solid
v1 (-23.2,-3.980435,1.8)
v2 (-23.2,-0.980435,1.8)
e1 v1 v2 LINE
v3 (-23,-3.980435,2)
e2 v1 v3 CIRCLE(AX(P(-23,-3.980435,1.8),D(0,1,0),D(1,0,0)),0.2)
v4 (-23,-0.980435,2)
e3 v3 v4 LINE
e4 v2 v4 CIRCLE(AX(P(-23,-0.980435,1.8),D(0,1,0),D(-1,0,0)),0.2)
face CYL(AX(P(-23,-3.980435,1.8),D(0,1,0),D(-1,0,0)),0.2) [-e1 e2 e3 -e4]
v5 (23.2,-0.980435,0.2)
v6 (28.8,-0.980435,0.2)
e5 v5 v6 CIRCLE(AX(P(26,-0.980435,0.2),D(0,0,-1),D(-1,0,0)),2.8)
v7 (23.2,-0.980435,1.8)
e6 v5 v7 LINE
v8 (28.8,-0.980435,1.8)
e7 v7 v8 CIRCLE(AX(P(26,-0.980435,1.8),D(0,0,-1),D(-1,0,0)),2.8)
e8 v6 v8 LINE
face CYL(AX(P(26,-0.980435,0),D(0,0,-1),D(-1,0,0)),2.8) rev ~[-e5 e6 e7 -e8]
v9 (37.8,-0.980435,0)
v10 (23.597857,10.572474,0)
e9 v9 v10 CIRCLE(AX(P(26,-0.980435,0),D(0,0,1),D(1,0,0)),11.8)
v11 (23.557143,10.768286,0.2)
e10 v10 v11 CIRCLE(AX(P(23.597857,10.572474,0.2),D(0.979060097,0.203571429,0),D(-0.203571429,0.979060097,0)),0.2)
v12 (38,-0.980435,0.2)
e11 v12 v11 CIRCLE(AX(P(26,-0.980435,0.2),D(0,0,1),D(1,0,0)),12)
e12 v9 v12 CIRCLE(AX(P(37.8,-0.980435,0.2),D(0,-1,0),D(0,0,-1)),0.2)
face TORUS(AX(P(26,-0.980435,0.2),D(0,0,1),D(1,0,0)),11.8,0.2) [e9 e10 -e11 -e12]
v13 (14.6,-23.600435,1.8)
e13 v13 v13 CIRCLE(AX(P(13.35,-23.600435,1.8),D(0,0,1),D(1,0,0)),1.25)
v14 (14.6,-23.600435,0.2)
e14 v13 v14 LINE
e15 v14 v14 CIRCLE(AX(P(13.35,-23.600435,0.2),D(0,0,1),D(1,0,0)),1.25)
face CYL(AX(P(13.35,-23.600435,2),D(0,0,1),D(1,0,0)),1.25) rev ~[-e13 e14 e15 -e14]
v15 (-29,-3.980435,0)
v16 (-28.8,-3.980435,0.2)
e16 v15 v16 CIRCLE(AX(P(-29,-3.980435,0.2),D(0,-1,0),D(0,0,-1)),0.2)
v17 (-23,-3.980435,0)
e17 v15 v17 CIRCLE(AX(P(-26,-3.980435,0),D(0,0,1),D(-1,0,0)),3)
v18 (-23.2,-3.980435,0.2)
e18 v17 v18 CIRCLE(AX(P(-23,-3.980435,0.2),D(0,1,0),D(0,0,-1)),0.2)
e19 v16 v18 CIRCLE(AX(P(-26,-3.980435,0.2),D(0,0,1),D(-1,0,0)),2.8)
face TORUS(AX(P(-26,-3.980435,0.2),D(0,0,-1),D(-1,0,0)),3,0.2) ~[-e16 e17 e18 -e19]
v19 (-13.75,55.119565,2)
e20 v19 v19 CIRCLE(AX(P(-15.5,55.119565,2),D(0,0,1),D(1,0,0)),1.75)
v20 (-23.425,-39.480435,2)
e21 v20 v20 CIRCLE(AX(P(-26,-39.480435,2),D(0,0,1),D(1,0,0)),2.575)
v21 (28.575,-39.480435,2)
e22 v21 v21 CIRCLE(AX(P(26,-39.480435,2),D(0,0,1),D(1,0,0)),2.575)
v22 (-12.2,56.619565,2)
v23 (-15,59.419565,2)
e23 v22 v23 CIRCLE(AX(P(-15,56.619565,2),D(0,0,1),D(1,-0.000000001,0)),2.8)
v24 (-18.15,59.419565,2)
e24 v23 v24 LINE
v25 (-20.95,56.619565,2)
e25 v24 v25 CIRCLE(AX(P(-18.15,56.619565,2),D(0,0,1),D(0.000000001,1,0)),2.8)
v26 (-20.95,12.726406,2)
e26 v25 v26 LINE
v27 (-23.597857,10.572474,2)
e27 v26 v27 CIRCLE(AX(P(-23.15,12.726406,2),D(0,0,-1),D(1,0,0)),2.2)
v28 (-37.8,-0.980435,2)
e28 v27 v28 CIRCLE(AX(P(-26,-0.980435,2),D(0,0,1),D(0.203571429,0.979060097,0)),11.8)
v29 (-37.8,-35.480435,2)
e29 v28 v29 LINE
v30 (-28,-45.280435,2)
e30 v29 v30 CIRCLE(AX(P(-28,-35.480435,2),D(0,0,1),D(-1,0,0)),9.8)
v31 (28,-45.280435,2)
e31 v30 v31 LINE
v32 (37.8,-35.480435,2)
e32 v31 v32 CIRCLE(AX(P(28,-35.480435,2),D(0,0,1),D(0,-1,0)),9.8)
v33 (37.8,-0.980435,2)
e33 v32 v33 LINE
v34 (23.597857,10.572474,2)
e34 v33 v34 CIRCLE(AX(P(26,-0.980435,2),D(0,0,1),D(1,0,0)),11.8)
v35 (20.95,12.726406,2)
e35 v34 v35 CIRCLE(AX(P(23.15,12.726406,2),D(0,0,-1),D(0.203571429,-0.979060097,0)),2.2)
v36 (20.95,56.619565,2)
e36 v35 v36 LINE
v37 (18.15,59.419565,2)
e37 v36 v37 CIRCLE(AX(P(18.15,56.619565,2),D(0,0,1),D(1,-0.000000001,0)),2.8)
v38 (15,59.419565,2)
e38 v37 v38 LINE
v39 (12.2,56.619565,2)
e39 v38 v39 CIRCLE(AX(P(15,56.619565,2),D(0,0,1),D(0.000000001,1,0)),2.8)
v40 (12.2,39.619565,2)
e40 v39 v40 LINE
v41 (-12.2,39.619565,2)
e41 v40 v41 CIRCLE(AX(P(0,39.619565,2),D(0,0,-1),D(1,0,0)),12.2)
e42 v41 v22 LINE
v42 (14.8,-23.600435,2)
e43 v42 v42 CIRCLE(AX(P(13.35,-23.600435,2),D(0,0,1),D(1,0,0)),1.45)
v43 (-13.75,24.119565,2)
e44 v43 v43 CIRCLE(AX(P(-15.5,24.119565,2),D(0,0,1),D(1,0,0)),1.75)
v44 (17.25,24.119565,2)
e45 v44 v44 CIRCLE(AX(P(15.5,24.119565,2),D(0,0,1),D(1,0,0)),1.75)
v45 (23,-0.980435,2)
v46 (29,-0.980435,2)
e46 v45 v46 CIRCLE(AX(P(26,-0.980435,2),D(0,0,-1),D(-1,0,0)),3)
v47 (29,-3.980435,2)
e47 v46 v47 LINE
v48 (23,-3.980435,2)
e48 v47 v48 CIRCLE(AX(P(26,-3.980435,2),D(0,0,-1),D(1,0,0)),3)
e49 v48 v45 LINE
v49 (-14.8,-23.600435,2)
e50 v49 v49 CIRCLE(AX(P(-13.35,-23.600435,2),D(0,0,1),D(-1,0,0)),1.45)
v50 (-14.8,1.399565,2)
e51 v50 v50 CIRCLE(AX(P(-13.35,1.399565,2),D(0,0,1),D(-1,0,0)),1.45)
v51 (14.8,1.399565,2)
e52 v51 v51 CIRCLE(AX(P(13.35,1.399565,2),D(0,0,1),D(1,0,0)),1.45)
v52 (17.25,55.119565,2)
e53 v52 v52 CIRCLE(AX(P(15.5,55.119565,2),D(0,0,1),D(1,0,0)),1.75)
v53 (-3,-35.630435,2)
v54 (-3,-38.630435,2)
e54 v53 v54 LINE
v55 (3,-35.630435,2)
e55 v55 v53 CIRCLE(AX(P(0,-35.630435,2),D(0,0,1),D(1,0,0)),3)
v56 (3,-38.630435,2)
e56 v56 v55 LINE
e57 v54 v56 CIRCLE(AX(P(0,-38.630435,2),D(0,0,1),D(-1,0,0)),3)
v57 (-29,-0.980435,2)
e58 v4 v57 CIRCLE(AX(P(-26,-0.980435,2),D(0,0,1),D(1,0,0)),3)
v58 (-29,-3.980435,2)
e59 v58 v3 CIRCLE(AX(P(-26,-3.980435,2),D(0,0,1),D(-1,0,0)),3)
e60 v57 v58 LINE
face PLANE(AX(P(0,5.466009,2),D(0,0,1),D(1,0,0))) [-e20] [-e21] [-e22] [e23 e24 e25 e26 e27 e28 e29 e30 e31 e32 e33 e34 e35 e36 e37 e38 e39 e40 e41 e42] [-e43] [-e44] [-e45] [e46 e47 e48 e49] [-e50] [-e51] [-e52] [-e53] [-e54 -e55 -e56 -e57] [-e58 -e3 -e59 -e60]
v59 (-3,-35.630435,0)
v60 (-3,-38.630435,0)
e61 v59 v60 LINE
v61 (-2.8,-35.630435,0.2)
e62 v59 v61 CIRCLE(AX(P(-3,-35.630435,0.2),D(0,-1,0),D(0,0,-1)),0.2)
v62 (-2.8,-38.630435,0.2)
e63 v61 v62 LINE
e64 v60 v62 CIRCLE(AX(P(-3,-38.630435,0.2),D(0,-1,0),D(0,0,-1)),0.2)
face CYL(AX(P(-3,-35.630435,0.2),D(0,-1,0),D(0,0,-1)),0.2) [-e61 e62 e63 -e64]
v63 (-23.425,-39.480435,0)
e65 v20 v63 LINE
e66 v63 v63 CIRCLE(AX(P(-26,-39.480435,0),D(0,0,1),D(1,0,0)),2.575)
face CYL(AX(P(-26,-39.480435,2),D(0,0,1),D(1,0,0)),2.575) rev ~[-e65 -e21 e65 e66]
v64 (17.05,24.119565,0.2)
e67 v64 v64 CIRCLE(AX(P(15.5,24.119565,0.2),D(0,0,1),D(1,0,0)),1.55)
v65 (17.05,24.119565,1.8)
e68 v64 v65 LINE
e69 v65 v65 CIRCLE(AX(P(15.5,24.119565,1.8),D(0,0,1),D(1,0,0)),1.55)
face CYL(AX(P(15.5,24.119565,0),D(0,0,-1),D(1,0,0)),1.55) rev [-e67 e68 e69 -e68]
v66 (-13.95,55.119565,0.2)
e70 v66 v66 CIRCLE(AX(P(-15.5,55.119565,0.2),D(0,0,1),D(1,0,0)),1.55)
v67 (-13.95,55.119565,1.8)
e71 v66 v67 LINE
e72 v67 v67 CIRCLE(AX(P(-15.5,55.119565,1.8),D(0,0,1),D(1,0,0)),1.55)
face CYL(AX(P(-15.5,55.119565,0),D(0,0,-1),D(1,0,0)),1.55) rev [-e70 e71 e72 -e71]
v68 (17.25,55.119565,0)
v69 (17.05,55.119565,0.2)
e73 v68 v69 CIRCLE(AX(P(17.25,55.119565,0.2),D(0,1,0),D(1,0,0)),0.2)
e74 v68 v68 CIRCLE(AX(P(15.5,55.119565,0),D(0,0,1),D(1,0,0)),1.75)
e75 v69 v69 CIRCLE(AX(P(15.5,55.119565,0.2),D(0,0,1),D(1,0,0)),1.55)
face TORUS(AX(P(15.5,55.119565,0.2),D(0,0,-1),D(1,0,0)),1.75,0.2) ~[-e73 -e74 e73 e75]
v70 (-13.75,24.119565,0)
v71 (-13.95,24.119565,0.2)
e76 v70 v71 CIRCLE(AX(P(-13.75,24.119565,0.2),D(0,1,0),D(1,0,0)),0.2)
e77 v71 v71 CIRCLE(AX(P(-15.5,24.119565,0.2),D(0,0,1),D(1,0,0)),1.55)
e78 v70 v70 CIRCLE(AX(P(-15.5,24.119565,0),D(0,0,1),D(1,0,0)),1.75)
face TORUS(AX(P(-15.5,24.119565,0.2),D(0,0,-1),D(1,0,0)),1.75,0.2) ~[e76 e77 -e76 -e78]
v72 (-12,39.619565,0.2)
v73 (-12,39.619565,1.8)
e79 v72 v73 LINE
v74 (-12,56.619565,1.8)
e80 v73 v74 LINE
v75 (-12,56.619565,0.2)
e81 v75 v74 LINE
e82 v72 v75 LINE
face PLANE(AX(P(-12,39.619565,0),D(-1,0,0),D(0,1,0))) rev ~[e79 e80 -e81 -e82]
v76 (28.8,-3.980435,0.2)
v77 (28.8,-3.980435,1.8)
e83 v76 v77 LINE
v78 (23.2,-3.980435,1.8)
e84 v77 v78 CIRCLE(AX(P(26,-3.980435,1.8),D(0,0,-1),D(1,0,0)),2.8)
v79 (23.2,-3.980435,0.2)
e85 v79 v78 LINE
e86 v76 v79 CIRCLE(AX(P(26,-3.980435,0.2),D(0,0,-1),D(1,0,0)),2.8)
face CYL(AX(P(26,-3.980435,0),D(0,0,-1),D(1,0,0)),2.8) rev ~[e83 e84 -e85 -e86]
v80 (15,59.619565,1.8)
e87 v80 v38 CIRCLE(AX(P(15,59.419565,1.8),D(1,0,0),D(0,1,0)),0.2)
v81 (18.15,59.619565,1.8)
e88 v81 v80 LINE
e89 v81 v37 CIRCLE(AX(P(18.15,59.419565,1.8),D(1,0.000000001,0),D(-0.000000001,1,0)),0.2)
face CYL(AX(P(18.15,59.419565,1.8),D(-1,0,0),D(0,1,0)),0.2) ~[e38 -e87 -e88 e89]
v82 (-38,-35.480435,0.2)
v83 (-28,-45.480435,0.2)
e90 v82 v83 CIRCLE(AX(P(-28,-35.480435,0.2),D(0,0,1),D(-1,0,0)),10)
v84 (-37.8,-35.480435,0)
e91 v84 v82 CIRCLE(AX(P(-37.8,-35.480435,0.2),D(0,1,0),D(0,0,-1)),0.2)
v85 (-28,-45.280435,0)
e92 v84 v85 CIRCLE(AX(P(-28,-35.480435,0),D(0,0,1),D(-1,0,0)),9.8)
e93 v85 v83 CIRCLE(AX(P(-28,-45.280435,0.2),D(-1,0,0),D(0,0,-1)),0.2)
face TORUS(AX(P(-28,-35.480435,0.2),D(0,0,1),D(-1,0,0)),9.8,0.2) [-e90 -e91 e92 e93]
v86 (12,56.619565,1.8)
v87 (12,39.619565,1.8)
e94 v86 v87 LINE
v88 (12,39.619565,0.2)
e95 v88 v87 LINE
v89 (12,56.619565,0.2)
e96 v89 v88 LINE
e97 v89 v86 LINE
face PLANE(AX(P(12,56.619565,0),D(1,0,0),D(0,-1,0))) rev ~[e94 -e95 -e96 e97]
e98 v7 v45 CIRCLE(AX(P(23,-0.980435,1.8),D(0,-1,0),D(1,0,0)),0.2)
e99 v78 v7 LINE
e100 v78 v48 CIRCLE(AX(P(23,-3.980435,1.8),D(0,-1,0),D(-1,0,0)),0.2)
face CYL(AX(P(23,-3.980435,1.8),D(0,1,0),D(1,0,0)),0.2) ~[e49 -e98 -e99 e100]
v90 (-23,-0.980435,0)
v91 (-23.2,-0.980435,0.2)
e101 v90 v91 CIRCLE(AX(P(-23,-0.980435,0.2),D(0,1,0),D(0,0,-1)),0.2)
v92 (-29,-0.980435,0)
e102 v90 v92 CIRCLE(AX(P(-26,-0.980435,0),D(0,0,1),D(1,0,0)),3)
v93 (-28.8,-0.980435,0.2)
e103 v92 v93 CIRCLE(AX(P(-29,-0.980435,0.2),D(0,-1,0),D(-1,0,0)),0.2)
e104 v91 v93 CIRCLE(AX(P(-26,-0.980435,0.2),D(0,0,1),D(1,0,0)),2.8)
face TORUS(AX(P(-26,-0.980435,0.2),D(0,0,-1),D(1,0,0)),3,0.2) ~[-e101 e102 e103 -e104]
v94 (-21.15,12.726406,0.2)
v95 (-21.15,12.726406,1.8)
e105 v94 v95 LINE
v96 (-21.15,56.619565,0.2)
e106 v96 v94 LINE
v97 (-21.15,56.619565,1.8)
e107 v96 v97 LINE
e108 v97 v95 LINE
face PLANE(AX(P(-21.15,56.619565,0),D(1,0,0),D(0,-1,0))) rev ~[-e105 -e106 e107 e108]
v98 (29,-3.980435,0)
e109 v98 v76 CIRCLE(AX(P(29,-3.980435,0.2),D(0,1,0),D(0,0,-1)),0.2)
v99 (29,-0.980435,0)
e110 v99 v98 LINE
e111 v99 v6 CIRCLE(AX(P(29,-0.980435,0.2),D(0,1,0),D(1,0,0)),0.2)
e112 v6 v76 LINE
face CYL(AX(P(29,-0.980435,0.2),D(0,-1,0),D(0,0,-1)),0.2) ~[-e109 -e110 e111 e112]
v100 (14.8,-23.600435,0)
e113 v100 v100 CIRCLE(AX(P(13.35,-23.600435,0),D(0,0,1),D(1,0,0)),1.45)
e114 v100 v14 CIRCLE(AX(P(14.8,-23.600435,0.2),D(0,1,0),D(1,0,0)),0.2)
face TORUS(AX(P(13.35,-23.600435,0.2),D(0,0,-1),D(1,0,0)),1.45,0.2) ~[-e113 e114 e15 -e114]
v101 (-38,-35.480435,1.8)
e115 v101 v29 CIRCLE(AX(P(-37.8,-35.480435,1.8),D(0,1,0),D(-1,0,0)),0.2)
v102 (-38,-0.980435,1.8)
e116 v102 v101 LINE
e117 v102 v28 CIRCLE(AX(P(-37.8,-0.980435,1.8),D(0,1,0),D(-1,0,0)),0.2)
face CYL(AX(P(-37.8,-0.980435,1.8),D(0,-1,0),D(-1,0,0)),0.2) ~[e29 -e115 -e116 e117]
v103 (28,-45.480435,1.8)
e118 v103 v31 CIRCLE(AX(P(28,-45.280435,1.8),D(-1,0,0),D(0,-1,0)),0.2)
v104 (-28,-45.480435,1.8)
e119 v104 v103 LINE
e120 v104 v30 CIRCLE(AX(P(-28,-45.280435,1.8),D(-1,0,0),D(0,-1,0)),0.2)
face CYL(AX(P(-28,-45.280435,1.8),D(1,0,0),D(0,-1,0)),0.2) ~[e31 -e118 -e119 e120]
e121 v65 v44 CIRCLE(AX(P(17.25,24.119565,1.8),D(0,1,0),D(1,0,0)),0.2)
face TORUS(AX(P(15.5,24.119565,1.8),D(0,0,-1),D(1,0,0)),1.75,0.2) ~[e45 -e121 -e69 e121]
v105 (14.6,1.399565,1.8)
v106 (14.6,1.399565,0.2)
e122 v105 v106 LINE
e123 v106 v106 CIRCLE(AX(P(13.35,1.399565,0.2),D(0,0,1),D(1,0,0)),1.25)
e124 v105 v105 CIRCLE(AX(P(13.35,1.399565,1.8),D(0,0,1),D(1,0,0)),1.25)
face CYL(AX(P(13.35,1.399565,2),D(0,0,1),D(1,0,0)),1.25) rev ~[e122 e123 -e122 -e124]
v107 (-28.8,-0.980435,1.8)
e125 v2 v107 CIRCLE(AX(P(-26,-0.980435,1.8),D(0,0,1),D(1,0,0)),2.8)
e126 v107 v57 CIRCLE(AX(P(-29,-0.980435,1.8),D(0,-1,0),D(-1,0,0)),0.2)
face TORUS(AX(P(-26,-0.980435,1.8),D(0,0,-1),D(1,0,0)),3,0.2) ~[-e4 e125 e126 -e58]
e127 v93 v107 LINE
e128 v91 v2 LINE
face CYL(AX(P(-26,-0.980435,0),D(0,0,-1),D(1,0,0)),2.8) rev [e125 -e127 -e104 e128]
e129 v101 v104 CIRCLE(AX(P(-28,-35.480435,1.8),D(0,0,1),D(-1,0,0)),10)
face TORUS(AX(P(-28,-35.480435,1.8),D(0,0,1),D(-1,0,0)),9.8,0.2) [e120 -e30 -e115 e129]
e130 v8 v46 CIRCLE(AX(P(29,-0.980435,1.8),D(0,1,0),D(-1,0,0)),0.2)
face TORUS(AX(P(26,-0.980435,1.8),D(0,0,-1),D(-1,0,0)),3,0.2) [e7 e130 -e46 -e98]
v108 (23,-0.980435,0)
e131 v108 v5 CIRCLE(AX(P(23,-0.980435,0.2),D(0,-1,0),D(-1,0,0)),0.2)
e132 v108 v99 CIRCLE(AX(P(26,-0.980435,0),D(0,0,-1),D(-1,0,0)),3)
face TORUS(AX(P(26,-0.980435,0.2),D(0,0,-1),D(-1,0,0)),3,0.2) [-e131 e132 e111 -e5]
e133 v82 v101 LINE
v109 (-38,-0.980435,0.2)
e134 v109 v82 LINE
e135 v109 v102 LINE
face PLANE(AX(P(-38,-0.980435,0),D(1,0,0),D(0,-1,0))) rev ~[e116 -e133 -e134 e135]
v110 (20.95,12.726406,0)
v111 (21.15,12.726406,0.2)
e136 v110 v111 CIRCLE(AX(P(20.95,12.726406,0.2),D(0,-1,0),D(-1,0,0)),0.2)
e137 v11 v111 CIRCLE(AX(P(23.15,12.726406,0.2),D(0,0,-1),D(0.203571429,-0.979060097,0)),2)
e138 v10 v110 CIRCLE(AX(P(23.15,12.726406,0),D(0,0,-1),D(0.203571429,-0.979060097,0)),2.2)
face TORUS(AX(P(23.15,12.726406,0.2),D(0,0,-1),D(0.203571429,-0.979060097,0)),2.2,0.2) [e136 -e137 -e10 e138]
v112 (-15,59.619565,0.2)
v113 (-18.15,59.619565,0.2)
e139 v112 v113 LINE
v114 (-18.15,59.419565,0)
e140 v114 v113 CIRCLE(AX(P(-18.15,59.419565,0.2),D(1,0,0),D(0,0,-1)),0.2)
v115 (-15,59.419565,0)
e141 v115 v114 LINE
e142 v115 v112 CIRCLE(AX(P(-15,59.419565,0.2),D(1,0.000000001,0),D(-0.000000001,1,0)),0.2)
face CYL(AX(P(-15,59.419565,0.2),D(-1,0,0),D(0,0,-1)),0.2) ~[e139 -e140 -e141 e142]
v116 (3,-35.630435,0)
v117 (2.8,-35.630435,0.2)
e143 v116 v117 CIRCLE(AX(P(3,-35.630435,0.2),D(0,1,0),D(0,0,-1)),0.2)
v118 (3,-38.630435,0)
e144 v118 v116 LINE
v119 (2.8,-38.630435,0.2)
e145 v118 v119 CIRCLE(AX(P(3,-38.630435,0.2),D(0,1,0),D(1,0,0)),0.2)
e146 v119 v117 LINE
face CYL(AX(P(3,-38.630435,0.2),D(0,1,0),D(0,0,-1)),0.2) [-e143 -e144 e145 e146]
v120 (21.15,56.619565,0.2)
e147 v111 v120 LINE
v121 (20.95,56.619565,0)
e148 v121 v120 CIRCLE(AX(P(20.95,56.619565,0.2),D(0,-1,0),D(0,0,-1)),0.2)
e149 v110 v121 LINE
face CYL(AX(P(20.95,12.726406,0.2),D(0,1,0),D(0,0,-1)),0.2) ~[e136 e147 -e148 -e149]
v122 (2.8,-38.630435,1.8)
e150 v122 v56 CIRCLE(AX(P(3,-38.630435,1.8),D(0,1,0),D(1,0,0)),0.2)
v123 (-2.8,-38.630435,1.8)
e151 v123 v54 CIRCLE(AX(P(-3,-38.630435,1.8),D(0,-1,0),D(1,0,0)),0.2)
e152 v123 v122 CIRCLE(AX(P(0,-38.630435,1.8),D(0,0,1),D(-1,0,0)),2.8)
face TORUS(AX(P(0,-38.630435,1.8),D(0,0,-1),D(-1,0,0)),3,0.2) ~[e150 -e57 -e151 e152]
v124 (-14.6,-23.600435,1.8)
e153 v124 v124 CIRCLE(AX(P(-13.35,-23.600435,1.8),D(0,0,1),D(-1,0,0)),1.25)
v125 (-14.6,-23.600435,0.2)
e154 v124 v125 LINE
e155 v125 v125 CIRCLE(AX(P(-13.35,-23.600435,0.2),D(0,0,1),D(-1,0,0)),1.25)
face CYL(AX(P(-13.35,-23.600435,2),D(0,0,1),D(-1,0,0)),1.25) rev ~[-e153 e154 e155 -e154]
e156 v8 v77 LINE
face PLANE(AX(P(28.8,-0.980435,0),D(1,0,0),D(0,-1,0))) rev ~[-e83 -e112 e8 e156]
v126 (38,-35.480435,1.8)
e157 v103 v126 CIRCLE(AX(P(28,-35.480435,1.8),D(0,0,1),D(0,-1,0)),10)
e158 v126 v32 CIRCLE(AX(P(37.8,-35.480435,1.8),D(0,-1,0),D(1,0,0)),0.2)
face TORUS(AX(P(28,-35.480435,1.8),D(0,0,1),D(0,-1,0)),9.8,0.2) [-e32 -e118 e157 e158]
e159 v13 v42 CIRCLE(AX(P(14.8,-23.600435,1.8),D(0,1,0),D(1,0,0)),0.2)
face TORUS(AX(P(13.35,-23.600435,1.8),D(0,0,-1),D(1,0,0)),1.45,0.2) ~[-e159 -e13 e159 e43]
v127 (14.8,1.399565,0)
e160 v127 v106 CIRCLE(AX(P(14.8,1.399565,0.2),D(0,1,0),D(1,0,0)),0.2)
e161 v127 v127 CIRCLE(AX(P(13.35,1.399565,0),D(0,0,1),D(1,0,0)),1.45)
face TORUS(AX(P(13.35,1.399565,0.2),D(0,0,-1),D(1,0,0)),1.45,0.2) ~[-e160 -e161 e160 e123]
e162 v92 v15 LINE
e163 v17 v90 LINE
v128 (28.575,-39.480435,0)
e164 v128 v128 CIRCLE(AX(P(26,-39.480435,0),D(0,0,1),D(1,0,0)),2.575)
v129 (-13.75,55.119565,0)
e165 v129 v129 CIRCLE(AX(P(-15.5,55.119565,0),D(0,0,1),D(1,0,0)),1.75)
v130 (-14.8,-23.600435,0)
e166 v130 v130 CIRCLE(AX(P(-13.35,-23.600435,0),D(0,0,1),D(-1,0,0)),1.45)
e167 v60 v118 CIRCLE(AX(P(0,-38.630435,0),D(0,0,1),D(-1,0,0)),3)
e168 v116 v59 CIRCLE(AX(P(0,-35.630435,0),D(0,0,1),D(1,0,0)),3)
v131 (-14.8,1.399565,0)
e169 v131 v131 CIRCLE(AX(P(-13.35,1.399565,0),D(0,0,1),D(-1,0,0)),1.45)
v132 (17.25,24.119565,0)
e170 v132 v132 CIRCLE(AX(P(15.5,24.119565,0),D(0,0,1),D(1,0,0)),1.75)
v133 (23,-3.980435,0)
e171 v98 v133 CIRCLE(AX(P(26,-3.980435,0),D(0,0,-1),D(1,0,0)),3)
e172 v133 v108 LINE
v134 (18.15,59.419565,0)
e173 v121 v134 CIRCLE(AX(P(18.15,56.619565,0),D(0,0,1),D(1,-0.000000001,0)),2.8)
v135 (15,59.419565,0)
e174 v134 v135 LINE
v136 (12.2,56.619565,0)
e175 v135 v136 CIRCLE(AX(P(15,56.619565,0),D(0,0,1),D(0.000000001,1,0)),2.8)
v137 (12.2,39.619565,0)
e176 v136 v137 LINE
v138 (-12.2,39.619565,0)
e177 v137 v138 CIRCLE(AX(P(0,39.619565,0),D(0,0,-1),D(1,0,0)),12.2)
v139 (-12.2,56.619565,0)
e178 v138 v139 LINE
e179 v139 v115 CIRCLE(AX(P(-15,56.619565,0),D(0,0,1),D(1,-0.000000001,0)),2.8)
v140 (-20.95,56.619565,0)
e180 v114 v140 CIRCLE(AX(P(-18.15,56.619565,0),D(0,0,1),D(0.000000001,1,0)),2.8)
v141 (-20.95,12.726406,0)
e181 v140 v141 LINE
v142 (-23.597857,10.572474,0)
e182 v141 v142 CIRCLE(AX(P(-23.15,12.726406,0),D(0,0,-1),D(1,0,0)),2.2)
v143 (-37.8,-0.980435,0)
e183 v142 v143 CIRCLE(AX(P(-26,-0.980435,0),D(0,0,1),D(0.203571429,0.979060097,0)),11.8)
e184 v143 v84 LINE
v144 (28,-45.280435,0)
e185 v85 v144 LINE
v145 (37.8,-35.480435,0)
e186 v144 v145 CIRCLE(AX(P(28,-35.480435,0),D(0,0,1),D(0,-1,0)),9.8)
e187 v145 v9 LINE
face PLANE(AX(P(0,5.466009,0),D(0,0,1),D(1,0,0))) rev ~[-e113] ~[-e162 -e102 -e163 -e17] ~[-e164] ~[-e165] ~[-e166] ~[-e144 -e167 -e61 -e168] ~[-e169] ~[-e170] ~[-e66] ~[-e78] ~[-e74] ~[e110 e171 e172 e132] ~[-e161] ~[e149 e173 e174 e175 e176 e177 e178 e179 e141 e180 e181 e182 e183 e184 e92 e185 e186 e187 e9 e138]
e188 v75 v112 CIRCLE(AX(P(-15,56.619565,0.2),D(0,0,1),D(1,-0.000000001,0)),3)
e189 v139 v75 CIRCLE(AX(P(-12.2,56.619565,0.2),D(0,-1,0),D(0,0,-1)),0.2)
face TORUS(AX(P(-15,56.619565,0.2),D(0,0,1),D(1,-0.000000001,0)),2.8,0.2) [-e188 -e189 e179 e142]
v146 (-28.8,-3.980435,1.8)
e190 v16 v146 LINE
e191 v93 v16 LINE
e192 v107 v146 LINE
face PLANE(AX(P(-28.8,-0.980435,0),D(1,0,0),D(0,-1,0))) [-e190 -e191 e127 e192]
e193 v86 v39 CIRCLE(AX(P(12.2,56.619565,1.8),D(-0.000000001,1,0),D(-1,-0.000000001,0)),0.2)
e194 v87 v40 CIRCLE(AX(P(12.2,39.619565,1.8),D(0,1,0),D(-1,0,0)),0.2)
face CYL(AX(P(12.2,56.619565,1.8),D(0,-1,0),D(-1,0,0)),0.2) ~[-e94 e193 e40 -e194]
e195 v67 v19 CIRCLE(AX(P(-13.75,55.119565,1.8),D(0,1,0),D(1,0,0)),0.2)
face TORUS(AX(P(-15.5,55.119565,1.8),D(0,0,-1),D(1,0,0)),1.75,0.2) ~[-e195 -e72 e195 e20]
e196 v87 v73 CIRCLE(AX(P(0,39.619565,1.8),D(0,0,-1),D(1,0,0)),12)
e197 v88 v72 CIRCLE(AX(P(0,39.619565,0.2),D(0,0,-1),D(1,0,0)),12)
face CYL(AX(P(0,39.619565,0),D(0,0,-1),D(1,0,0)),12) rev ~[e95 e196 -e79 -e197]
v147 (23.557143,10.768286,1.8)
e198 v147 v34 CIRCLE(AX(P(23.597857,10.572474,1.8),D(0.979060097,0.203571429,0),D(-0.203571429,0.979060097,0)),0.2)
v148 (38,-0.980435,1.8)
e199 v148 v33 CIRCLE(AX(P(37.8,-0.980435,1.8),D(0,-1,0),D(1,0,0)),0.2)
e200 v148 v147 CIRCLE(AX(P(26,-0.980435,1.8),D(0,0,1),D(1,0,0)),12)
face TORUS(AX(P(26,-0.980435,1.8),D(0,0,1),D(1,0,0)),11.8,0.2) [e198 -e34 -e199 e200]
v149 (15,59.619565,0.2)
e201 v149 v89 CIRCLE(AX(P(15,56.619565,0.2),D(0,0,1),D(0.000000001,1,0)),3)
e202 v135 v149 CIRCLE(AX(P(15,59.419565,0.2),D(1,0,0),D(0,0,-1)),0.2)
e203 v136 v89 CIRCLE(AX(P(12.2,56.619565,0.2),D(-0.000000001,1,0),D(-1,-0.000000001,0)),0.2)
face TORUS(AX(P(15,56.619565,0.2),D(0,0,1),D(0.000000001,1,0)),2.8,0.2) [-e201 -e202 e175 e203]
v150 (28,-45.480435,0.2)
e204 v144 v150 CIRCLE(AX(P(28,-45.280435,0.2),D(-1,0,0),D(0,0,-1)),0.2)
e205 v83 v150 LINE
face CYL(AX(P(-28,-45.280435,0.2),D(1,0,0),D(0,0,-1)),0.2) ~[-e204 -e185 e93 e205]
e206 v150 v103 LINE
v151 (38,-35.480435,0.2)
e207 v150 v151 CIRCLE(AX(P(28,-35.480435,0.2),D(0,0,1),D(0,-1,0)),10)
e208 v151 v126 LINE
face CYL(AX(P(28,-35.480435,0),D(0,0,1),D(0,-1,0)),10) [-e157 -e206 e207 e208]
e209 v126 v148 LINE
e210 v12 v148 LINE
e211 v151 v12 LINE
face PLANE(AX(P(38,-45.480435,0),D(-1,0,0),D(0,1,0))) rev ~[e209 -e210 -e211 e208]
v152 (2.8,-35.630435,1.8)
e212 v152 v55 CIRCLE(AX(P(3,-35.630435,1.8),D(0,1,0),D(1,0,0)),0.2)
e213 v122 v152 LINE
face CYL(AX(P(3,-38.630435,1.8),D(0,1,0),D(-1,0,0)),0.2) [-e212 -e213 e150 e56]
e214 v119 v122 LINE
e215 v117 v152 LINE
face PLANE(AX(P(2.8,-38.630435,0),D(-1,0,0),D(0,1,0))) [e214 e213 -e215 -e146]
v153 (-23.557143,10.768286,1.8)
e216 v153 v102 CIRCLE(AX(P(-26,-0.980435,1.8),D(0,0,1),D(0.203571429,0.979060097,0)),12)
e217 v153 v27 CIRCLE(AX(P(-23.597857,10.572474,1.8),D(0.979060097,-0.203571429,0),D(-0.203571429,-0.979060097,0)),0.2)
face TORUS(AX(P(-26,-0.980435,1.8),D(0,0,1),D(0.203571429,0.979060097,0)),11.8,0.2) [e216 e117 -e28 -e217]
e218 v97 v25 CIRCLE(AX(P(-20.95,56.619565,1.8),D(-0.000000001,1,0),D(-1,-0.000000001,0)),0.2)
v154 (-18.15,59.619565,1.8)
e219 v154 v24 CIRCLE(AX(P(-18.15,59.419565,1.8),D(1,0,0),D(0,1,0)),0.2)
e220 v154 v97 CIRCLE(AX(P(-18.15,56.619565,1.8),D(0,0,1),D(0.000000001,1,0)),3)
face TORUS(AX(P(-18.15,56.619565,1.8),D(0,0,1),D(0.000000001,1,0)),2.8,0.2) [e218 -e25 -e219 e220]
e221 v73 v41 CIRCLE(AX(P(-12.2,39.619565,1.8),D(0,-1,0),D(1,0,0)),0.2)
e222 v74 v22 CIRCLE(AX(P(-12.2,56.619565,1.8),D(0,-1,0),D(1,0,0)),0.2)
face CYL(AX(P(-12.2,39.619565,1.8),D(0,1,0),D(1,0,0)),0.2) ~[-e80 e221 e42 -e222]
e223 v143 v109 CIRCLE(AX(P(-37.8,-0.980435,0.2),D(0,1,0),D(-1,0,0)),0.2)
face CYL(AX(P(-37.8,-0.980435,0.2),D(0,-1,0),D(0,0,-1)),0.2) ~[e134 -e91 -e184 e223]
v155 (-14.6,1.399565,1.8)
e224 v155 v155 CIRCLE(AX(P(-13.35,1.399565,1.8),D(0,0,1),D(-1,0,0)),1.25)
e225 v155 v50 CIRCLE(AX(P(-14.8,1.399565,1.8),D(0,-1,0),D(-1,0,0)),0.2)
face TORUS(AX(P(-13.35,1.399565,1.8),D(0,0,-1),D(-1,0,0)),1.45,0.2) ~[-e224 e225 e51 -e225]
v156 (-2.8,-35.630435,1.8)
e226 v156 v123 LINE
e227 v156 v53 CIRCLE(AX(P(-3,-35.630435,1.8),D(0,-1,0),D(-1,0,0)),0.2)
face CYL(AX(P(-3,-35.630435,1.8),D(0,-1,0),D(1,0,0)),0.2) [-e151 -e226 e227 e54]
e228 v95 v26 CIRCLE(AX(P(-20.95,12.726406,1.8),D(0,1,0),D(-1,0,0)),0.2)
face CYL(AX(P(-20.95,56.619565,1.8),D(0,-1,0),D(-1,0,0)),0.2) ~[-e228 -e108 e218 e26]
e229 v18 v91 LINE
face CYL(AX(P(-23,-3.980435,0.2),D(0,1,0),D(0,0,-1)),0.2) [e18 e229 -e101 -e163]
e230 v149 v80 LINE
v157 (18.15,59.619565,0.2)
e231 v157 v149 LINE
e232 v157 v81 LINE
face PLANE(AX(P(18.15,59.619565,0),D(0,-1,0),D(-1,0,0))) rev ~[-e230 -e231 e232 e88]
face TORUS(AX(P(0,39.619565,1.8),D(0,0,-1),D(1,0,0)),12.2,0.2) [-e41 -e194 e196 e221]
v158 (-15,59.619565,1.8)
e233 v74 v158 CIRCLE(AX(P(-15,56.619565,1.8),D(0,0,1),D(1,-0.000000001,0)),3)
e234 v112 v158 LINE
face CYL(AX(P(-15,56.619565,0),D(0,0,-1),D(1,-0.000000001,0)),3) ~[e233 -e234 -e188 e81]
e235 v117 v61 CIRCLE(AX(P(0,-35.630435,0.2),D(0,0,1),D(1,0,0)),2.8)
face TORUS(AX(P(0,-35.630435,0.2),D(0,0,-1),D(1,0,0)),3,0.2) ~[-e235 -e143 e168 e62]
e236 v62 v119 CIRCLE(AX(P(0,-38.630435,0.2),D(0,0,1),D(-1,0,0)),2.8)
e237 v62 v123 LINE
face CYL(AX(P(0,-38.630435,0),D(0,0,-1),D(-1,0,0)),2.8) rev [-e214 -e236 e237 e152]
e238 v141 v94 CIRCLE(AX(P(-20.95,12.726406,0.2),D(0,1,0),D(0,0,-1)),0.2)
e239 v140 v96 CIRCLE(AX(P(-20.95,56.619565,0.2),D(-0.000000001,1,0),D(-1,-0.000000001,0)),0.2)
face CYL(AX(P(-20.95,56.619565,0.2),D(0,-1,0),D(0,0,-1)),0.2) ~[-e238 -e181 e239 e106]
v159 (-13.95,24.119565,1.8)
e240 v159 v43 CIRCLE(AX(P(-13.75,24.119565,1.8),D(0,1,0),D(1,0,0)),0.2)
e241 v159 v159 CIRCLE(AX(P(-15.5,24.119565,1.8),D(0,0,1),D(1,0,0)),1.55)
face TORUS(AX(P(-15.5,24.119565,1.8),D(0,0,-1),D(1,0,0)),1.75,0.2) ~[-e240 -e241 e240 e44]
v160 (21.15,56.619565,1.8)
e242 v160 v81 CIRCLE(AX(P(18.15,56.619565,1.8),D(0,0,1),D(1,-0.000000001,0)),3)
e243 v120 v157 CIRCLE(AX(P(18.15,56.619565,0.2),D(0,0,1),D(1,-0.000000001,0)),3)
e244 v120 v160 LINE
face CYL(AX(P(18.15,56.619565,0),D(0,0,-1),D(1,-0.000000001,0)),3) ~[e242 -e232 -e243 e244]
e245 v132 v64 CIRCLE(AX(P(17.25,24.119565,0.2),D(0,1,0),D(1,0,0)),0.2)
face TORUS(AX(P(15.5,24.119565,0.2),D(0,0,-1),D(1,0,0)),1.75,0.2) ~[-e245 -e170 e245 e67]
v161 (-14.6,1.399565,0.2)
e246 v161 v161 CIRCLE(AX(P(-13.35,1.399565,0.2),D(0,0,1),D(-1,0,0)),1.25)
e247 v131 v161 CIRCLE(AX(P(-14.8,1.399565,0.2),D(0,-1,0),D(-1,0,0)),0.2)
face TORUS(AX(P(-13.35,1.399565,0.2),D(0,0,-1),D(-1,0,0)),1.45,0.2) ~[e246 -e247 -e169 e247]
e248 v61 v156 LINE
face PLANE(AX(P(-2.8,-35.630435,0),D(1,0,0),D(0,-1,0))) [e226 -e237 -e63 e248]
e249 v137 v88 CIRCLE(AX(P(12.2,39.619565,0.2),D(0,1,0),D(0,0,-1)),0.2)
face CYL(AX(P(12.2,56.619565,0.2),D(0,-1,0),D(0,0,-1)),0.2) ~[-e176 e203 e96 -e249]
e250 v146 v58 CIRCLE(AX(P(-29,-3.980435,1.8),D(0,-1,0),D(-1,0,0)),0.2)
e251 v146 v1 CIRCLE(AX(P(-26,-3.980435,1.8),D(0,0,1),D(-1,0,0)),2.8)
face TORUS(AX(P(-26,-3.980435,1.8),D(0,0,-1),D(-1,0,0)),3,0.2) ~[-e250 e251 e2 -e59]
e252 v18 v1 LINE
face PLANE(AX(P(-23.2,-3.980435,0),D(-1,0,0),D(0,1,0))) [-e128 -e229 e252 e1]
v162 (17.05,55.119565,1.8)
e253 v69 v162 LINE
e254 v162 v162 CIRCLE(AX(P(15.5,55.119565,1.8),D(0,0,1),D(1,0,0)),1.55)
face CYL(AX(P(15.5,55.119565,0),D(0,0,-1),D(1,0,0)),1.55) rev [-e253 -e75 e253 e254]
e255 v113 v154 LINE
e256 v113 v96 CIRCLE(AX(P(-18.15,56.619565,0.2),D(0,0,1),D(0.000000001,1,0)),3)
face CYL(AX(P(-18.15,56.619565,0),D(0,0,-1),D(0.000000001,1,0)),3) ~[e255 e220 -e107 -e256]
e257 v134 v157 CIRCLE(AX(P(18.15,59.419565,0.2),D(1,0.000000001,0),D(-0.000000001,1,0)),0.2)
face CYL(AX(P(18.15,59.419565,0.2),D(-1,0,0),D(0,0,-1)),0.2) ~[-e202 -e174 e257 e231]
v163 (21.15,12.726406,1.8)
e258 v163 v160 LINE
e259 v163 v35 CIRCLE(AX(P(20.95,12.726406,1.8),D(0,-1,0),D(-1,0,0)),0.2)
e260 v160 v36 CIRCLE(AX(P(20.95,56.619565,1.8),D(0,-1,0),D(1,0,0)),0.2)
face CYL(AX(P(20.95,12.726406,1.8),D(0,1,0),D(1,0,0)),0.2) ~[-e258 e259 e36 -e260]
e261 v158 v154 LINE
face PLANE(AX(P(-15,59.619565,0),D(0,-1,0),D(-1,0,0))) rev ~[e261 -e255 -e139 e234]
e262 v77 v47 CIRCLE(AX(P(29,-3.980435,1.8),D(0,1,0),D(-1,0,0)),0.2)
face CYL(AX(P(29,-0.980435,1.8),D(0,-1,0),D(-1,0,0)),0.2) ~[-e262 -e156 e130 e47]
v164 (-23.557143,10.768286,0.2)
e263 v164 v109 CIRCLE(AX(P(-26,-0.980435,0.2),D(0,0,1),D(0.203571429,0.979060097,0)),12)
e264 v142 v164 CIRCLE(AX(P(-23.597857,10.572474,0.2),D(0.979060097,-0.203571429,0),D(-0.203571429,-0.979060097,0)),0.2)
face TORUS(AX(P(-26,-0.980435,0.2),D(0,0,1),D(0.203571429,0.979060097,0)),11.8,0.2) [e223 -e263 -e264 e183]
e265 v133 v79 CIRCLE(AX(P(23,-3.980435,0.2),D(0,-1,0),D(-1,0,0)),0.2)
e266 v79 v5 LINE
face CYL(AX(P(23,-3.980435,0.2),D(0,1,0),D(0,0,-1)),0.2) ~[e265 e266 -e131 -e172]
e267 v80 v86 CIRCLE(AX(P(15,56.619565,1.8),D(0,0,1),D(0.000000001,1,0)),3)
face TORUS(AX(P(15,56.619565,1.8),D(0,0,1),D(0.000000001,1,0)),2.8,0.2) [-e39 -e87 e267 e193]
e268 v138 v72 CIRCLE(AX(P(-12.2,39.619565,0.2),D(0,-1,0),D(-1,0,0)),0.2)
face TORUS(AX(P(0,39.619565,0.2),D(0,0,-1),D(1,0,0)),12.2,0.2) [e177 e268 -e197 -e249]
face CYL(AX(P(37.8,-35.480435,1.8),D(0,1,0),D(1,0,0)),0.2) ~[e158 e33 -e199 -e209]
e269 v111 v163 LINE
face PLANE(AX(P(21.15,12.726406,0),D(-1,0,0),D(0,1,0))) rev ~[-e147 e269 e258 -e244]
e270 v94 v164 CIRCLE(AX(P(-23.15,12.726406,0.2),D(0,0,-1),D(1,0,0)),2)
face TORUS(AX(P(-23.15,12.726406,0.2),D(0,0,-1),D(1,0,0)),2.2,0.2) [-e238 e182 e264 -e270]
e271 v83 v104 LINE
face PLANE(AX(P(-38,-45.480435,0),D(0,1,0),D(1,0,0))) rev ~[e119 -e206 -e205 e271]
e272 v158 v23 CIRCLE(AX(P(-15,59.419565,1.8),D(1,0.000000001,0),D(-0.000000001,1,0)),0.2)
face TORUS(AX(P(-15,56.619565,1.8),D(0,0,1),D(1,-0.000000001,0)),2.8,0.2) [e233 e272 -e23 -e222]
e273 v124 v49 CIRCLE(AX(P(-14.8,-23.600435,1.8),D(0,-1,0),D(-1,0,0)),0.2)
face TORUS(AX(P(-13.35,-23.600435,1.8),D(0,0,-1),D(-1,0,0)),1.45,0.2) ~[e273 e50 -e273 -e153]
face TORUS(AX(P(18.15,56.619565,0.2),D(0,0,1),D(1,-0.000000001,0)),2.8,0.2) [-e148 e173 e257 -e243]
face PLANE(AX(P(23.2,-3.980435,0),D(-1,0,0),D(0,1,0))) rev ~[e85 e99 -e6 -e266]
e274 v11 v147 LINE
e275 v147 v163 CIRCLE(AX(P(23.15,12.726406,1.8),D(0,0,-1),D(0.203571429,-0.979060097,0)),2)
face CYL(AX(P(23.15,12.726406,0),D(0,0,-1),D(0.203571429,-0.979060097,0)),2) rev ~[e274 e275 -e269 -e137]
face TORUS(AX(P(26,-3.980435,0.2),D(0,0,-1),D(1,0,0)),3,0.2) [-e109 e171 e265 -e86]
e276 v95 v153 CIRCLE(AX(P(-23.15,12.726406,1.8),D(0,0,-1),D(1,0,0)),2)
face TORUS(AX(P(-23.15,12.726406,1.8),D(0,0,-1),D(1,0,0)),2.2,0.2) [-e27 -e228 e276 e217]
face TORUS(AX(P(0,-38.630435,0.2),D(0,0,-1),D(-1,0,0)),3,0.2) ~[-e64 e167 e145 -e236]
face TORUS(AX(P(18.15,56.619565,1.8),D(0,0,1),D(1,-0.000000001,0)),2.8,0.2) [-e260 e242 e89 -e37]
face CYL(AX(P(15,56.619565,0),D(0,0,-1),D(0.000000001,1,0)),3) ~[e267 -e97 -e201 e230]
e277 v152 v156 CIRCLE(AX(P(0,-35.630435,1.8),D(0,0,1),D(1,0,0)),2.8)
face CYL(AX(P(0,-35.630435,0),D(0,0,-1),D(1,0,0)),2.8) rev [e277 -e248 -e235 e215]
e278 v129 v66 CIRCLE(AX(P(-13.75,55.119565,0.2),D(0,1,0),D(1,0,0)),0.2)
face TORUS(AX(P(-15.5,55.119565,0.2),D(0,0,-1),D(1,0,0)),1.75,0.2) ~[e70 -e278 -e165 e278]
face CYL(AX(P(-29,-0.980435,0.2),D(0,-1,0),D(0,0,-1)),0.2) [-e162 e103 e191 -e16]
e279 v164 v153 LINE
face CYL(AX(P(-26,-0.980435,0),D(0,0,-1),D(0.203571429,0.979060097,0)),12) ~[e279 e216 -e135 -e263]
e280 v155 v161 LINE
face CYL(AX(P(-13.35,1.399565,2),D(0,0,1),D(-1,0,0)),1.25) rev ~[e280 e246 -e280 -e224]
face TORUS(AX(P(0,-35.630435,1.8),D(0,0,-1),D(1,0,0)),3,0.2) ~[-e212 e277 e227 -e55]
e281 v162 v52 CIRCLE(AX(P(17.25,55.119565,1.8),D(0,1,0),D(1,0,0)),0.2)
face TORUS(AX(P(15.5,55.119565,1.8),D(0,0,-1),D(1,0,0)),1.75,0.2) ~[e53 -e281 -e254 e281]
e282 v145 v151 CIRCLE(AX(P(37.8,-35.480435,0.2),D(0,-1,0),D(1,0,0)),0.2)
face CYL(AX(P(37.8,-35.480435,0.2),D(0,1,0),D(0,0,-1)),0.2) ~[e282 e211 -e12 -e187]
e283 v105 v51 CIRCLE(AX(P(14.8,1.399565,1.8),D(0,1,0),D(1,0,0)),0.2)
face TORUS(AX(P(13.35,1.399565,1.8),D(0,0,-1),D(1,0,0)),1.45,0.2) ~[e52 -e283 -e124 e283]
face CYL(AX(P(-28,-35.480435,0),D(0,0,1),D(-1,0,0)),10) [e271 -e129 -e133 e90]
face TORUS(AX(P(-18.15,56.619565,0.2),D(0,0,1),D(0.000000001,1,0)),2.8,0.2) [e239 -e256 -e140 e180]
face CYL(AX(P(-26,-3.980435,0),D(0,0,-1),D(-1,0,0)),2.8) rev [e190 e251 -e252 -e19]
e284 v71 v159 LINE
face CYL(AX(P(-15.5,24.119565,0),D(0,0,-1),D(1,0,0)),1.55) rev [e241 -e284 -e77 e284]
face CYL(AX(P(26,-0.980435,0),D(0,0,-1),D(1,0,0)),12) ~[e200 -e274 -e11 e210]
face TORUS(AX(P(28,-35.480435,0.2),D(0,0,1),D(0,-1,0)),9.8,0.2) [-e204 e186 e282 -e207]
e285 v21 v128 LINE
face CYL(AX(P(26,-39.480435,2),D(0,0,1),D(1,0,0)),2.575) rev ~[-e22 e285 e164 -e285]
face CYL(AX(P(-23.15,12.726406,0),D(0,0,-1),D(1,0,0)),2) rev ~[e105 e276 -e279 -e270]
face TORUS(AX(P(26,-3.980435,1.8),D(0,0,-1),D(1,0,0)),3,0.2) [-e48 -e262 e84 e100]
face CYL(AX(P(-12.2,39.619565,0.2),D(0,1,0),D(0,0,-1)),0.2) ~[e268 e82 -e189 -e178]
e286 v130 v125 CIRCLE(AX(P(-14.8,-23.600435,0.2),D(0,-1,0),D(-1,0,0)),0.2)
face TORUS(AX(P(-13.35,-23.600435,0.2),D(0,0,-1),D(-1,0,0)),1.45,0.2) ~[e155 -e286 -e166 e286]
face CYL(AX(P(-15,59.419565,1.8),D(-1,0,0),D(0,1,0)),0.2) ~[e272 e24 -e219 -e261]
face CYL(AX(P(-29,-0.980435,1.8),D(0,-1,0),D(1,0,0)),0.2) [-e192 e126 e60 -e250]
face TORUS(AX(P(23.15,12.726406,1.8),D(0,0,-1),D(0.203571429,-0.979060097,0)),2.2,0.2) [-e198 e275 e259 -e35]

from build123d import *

# Parameters (mm, degrees)
SKETCH_1_R          = 1.55
EXTRUDE_2_DEPTH     = 2
SKETCH_3_R          = 1.25
CUT_EXTRUDE_1_DEPTH = 71.728300832
FILLET_1_R          = 10
FILLET_2_R          = 0.2
SKETCH_4_R          = 2.575
CUT_EXTRUDE_2_DEPTH = 10


with BuildPart() as part:
    # 草图1 → 凸台-拉伸2 (new body)
    with BuildSketch(Plane.XY):
        with BuildLine():
            Line((-12, 39.619565065), (-12, 56.619565065))
            ThreePointArc((-12, 56.619565065), (-12.878679656, 58.740885409), (-15, 59.619565065))
            Line((-15, 59.619565065), (-18.15, 59.619565065))
            ThreePointArc((-18.15, 59.619565065), (-20.271320344, 58.740885409), (-21.15, 56.619565065))
            Line((-21.15, 56.619565065), (-21.15, 12.726406423))
            ThreePointArc((-21.15, 12.726406423), (-21.887915556, 11.17490945), (-23.557142857, 10.768286229))
            ThreePointArc((-23.557142857, 10.768286229), (-33.572506662, 8.328546903), (-38, -0.980434935))
            Line((-38, -0.980434935), (-38, -45.480434935))
            Line((-38, -45.480434935), (38, -45.480434935))
            Line((38, -45.480434935), (38, -0.980434935))
            ThreePointArc((38, -0.980434935), (33.572506662, 8.328546903), (23.557142857, 10.768286229))
            ThreePointArc((23.557142857, 10.768286229), (21.887915556, 11.17490945), (21.15, 12.726406423))
            Line((21.15, 12.726406423), (21.15, 56.619565065))
            ThreePointArc((21.15, 56.619565065), (20.271320344, 58.740885409), (18.15, 59.619565065))
            Line((18.15, 59.619565065), (15, 59.619565065))
            ThreePointArc((15, 59.619565065), (12.878679656, 58.740885409), (12, 56.619565065))
            Line((12, 56.619565065), (12, 39.619565065))
            ThreePointArc((12, 39.619565065), (0, 27.619565065), (-12, 39.619565065))
        make_face()
        with Locations((-15.5, 55.119565065)):
            Circle(SKETCH_1_R, mode=Mode.SUBTRACT)
        with Locations((15.5, 24.119565065)):
            Circle(SKETCH_1_R, mode=Mode.SUBTRACT)
        with Locations((-15.5, 24.119565065)):
            Circle(SKETCH_1_R, mode=Mode.SUBTRACT)
        with Locations((15.5, 55.119565065)):
            Circle(SKETCH_1_R, mode=Mode.SUBTRACT)
        with BuildLine():
            ThreePointArc((2.8, -35.630434935), (0, -32.830434935), (-2.8, -35.630434935))
            Line((-2.8, -35.630434935), (-2.8, -38.630434935))
            ThreePointArc((-2.8, -38.630434935), (0, -41.430434935), (2.8, -38.630434935))
            Line((2.8, -38.630434935), (2.8, -35.630434935))
        make_face(mode=Mode.SUBTRACT)
        with BuildLine():
            ThreePointArc((-28.8, -3.980434935), (-26, -6.780434935), (-23.2, -3.980434935))
            Line((-23.2, -3.980434935), (-23.2, -0.980434935))
            ThreePointArc((-23.2, -0.980434935), (-26, 1.819565065), (-28.8, -0.980434935))
            Line((-28.8, -0.980434935), (-28.8, -3.980434935))
        make_face(mode=Mode.SUBTRACT)
        with BuildLine():
            Line((28.8, -0.980434935), (28.8, -3.980434935))
            ThreePointArc((28.8, -3.980434935), (26, -6.780434935), (23.2, -3.980434935))
            Line((23.2, -3.980434935), (23.2, -0.980434935))
            ThreePointArc((23.2, -0.980434935), (26, 1.819565065), (28.8, -0.980434935))
        make_face(mode=Mode.SUBTRACT)
    extrude(amount=EXTRUDE_2_DEPTH)

    # 草图3 → 切除-拉伸1 (cut, through all)
    with BuildSketch(Plane.XY.offset(2)):
        with Locations((13.35, 1.399565065)):
            Circle(SKETCH_3_R)
        with Locations((13.35, -23.600434935)):
            Circle(SKETCH_3_R)
        with Locations(Location((-13.35, -23.600434935, 0), (0, 0, 180))):
            Circle(SKETCH_3_R)
        with Locations(Location((-13.35, 1.399565065, 0), (0, 0, 180))):
            Circle(SKETCH_3_R)
    extrude(amount=-CUT_EXTRUDE_1_DEPTH, mode=Mode.SUBTRACT)

    # 圆角1
    fillet_1_edges = [part.edges().sort_by_distance(p)[0] for p in [
        (38, -45.480434935, 1),
        (-38, -45.480434935, 1),
    ]]
    fillet(fillet_1_edges, radius=FILLET_1_R)

    # 圆角2
    fillet_2_edges = [part.edges().sort_by_distance(p)[0] for p in [
        (-17.05, 55.119565065, 2),
        (13.95, 24.119565065, 2),
        (-17.05, 24.119565065, 2),
        (13.95, 55.119565065, 2),
        (-12, 48.119565065, 2),
        (-12.1, 1.399565065, 0),
        (-12.1, 1.399565065, 2),
        (-12.1, -23.600434935, 0),
        (-12.1, -23.600434935, 2),
        (-12.878679656, 58.740885409, 2),
        (12.1, -23.600434935, 0),
        (12.1, -23.600434935, 2),
        (12.1, 1.399565065, 0),
        (12.1, 1.399565065, 2),
        (0, -32.830434935, 2),
        (-16.575, 59.619565065, 2),
        (-20.271320344, 58.740885409, 2),
        (0, -45.480434935, 0),
        (-35.071067812, -42.551502747, 0),
        (35.071067812, -42.551502747, 0),
        (0, -45.480434935, 2),
        (-35.071067812, -42.551502747, 2),
        (35.071067812, -42.551502747, 2),
        (-21.15, 34.672985744, 2),
        (-21.887915556, 11.17490945, 2),
        (-33.572506662, 8.328546903, 2),
        (-38, -18.230434935, 2),
        (38, -18.230434935, 2),
        (33.572506662, 8.328546903, 2),
        (21.887915556, 11.17490945, 2),
        (2.8, -37.130434935, 2),
        (21.15, 34.672985744, 2),
        (20.271320344, 58.740885409, 2),
        (16.575, 59.619565065, 2),
        (12.878679656, 58.740885409, 2),
        (12, 48.119565065, 2),
        (0, 27.619565065, 2),
        (0, -41.430434935, 2),
        (-2.8, -37.130434935, 2),
        (0, 27.619565065, 0),
        (12, 48.119565065, 0),
        (12.878679656, 58.740885409, 0),
        (16.575, 59.619565065, 0),
        (20.271320344, 58.740885409, 0),
        (21.15, 34.672985744, 0),
        (21.887915556, 11.17490945, 0),
        (33.572506662, 8.328546903, 0),
        (38, -18.230434935, 0),
        (-38, -18.230434935, 0),
        (-33.572506662, 8.328546903, 0),
        (-21.887915556, 11.17490945, 0),
        (-26, -6.780434935, 2),
        (-21.15, 34.672985744, 0),
        (-20.271320344, 58.740885409, 0),
        (-16.575, 59.619565065, 0),
        (-12.878679656, 58.740885409, 0),
        (-12, 48.119565065, 0),
        (13.95, 55.119565065, 0),
        (-17.05, 24.119565065, 0),
        (13.95, 24.119565065, 0),
        (-17.05, 55.119565065, 0),
        (26, 1.819565065, 0),
        (-28.8, -2.480434935, 2),
        (23.2, -2.480434935, 0),
        (26, -6.780434935, 0),
        (28.8, -2.480434935, 0),
        (-23.2, -2.480434935, 0),
        (-26, 1.819565065, 0),
        (-28.8, -2.480434935, 0),
        (-26, -6.780434935, 0),
        (-2.8, -37.130434935, 0),
        (0, -41.430434935, 0),
        (2.8, -37.130434935, 0),
        (0, -32.830434935, 0),
        (-26, 1.819565065, 2),
        (-23.2, -2.480434935, 2),
        (28.8, -2.480434935, 2),
        (26, -6.780434935, 2),
        (23.2, -2.480434935, 2),
        (26, 1.819565065, 2),
    ]]
    fillet(fillet_2_edges, radius=FILLET_2_R)

    # 草图4 → 切除-拉伸2 (cut)
    with BuildSketch(Plane.XY.offset(2)):
        with Locations((26, -39.480434935)):
            Circle(SKETCH_4_R)
        with Locations((-26, -39.480434935)):
            Circle(SKETCH_4_R)
    extrude(amount=-CUT_EXTRUDE_2_DEPTH, mode=Mode.SUBTRACT)


solid = part.part
